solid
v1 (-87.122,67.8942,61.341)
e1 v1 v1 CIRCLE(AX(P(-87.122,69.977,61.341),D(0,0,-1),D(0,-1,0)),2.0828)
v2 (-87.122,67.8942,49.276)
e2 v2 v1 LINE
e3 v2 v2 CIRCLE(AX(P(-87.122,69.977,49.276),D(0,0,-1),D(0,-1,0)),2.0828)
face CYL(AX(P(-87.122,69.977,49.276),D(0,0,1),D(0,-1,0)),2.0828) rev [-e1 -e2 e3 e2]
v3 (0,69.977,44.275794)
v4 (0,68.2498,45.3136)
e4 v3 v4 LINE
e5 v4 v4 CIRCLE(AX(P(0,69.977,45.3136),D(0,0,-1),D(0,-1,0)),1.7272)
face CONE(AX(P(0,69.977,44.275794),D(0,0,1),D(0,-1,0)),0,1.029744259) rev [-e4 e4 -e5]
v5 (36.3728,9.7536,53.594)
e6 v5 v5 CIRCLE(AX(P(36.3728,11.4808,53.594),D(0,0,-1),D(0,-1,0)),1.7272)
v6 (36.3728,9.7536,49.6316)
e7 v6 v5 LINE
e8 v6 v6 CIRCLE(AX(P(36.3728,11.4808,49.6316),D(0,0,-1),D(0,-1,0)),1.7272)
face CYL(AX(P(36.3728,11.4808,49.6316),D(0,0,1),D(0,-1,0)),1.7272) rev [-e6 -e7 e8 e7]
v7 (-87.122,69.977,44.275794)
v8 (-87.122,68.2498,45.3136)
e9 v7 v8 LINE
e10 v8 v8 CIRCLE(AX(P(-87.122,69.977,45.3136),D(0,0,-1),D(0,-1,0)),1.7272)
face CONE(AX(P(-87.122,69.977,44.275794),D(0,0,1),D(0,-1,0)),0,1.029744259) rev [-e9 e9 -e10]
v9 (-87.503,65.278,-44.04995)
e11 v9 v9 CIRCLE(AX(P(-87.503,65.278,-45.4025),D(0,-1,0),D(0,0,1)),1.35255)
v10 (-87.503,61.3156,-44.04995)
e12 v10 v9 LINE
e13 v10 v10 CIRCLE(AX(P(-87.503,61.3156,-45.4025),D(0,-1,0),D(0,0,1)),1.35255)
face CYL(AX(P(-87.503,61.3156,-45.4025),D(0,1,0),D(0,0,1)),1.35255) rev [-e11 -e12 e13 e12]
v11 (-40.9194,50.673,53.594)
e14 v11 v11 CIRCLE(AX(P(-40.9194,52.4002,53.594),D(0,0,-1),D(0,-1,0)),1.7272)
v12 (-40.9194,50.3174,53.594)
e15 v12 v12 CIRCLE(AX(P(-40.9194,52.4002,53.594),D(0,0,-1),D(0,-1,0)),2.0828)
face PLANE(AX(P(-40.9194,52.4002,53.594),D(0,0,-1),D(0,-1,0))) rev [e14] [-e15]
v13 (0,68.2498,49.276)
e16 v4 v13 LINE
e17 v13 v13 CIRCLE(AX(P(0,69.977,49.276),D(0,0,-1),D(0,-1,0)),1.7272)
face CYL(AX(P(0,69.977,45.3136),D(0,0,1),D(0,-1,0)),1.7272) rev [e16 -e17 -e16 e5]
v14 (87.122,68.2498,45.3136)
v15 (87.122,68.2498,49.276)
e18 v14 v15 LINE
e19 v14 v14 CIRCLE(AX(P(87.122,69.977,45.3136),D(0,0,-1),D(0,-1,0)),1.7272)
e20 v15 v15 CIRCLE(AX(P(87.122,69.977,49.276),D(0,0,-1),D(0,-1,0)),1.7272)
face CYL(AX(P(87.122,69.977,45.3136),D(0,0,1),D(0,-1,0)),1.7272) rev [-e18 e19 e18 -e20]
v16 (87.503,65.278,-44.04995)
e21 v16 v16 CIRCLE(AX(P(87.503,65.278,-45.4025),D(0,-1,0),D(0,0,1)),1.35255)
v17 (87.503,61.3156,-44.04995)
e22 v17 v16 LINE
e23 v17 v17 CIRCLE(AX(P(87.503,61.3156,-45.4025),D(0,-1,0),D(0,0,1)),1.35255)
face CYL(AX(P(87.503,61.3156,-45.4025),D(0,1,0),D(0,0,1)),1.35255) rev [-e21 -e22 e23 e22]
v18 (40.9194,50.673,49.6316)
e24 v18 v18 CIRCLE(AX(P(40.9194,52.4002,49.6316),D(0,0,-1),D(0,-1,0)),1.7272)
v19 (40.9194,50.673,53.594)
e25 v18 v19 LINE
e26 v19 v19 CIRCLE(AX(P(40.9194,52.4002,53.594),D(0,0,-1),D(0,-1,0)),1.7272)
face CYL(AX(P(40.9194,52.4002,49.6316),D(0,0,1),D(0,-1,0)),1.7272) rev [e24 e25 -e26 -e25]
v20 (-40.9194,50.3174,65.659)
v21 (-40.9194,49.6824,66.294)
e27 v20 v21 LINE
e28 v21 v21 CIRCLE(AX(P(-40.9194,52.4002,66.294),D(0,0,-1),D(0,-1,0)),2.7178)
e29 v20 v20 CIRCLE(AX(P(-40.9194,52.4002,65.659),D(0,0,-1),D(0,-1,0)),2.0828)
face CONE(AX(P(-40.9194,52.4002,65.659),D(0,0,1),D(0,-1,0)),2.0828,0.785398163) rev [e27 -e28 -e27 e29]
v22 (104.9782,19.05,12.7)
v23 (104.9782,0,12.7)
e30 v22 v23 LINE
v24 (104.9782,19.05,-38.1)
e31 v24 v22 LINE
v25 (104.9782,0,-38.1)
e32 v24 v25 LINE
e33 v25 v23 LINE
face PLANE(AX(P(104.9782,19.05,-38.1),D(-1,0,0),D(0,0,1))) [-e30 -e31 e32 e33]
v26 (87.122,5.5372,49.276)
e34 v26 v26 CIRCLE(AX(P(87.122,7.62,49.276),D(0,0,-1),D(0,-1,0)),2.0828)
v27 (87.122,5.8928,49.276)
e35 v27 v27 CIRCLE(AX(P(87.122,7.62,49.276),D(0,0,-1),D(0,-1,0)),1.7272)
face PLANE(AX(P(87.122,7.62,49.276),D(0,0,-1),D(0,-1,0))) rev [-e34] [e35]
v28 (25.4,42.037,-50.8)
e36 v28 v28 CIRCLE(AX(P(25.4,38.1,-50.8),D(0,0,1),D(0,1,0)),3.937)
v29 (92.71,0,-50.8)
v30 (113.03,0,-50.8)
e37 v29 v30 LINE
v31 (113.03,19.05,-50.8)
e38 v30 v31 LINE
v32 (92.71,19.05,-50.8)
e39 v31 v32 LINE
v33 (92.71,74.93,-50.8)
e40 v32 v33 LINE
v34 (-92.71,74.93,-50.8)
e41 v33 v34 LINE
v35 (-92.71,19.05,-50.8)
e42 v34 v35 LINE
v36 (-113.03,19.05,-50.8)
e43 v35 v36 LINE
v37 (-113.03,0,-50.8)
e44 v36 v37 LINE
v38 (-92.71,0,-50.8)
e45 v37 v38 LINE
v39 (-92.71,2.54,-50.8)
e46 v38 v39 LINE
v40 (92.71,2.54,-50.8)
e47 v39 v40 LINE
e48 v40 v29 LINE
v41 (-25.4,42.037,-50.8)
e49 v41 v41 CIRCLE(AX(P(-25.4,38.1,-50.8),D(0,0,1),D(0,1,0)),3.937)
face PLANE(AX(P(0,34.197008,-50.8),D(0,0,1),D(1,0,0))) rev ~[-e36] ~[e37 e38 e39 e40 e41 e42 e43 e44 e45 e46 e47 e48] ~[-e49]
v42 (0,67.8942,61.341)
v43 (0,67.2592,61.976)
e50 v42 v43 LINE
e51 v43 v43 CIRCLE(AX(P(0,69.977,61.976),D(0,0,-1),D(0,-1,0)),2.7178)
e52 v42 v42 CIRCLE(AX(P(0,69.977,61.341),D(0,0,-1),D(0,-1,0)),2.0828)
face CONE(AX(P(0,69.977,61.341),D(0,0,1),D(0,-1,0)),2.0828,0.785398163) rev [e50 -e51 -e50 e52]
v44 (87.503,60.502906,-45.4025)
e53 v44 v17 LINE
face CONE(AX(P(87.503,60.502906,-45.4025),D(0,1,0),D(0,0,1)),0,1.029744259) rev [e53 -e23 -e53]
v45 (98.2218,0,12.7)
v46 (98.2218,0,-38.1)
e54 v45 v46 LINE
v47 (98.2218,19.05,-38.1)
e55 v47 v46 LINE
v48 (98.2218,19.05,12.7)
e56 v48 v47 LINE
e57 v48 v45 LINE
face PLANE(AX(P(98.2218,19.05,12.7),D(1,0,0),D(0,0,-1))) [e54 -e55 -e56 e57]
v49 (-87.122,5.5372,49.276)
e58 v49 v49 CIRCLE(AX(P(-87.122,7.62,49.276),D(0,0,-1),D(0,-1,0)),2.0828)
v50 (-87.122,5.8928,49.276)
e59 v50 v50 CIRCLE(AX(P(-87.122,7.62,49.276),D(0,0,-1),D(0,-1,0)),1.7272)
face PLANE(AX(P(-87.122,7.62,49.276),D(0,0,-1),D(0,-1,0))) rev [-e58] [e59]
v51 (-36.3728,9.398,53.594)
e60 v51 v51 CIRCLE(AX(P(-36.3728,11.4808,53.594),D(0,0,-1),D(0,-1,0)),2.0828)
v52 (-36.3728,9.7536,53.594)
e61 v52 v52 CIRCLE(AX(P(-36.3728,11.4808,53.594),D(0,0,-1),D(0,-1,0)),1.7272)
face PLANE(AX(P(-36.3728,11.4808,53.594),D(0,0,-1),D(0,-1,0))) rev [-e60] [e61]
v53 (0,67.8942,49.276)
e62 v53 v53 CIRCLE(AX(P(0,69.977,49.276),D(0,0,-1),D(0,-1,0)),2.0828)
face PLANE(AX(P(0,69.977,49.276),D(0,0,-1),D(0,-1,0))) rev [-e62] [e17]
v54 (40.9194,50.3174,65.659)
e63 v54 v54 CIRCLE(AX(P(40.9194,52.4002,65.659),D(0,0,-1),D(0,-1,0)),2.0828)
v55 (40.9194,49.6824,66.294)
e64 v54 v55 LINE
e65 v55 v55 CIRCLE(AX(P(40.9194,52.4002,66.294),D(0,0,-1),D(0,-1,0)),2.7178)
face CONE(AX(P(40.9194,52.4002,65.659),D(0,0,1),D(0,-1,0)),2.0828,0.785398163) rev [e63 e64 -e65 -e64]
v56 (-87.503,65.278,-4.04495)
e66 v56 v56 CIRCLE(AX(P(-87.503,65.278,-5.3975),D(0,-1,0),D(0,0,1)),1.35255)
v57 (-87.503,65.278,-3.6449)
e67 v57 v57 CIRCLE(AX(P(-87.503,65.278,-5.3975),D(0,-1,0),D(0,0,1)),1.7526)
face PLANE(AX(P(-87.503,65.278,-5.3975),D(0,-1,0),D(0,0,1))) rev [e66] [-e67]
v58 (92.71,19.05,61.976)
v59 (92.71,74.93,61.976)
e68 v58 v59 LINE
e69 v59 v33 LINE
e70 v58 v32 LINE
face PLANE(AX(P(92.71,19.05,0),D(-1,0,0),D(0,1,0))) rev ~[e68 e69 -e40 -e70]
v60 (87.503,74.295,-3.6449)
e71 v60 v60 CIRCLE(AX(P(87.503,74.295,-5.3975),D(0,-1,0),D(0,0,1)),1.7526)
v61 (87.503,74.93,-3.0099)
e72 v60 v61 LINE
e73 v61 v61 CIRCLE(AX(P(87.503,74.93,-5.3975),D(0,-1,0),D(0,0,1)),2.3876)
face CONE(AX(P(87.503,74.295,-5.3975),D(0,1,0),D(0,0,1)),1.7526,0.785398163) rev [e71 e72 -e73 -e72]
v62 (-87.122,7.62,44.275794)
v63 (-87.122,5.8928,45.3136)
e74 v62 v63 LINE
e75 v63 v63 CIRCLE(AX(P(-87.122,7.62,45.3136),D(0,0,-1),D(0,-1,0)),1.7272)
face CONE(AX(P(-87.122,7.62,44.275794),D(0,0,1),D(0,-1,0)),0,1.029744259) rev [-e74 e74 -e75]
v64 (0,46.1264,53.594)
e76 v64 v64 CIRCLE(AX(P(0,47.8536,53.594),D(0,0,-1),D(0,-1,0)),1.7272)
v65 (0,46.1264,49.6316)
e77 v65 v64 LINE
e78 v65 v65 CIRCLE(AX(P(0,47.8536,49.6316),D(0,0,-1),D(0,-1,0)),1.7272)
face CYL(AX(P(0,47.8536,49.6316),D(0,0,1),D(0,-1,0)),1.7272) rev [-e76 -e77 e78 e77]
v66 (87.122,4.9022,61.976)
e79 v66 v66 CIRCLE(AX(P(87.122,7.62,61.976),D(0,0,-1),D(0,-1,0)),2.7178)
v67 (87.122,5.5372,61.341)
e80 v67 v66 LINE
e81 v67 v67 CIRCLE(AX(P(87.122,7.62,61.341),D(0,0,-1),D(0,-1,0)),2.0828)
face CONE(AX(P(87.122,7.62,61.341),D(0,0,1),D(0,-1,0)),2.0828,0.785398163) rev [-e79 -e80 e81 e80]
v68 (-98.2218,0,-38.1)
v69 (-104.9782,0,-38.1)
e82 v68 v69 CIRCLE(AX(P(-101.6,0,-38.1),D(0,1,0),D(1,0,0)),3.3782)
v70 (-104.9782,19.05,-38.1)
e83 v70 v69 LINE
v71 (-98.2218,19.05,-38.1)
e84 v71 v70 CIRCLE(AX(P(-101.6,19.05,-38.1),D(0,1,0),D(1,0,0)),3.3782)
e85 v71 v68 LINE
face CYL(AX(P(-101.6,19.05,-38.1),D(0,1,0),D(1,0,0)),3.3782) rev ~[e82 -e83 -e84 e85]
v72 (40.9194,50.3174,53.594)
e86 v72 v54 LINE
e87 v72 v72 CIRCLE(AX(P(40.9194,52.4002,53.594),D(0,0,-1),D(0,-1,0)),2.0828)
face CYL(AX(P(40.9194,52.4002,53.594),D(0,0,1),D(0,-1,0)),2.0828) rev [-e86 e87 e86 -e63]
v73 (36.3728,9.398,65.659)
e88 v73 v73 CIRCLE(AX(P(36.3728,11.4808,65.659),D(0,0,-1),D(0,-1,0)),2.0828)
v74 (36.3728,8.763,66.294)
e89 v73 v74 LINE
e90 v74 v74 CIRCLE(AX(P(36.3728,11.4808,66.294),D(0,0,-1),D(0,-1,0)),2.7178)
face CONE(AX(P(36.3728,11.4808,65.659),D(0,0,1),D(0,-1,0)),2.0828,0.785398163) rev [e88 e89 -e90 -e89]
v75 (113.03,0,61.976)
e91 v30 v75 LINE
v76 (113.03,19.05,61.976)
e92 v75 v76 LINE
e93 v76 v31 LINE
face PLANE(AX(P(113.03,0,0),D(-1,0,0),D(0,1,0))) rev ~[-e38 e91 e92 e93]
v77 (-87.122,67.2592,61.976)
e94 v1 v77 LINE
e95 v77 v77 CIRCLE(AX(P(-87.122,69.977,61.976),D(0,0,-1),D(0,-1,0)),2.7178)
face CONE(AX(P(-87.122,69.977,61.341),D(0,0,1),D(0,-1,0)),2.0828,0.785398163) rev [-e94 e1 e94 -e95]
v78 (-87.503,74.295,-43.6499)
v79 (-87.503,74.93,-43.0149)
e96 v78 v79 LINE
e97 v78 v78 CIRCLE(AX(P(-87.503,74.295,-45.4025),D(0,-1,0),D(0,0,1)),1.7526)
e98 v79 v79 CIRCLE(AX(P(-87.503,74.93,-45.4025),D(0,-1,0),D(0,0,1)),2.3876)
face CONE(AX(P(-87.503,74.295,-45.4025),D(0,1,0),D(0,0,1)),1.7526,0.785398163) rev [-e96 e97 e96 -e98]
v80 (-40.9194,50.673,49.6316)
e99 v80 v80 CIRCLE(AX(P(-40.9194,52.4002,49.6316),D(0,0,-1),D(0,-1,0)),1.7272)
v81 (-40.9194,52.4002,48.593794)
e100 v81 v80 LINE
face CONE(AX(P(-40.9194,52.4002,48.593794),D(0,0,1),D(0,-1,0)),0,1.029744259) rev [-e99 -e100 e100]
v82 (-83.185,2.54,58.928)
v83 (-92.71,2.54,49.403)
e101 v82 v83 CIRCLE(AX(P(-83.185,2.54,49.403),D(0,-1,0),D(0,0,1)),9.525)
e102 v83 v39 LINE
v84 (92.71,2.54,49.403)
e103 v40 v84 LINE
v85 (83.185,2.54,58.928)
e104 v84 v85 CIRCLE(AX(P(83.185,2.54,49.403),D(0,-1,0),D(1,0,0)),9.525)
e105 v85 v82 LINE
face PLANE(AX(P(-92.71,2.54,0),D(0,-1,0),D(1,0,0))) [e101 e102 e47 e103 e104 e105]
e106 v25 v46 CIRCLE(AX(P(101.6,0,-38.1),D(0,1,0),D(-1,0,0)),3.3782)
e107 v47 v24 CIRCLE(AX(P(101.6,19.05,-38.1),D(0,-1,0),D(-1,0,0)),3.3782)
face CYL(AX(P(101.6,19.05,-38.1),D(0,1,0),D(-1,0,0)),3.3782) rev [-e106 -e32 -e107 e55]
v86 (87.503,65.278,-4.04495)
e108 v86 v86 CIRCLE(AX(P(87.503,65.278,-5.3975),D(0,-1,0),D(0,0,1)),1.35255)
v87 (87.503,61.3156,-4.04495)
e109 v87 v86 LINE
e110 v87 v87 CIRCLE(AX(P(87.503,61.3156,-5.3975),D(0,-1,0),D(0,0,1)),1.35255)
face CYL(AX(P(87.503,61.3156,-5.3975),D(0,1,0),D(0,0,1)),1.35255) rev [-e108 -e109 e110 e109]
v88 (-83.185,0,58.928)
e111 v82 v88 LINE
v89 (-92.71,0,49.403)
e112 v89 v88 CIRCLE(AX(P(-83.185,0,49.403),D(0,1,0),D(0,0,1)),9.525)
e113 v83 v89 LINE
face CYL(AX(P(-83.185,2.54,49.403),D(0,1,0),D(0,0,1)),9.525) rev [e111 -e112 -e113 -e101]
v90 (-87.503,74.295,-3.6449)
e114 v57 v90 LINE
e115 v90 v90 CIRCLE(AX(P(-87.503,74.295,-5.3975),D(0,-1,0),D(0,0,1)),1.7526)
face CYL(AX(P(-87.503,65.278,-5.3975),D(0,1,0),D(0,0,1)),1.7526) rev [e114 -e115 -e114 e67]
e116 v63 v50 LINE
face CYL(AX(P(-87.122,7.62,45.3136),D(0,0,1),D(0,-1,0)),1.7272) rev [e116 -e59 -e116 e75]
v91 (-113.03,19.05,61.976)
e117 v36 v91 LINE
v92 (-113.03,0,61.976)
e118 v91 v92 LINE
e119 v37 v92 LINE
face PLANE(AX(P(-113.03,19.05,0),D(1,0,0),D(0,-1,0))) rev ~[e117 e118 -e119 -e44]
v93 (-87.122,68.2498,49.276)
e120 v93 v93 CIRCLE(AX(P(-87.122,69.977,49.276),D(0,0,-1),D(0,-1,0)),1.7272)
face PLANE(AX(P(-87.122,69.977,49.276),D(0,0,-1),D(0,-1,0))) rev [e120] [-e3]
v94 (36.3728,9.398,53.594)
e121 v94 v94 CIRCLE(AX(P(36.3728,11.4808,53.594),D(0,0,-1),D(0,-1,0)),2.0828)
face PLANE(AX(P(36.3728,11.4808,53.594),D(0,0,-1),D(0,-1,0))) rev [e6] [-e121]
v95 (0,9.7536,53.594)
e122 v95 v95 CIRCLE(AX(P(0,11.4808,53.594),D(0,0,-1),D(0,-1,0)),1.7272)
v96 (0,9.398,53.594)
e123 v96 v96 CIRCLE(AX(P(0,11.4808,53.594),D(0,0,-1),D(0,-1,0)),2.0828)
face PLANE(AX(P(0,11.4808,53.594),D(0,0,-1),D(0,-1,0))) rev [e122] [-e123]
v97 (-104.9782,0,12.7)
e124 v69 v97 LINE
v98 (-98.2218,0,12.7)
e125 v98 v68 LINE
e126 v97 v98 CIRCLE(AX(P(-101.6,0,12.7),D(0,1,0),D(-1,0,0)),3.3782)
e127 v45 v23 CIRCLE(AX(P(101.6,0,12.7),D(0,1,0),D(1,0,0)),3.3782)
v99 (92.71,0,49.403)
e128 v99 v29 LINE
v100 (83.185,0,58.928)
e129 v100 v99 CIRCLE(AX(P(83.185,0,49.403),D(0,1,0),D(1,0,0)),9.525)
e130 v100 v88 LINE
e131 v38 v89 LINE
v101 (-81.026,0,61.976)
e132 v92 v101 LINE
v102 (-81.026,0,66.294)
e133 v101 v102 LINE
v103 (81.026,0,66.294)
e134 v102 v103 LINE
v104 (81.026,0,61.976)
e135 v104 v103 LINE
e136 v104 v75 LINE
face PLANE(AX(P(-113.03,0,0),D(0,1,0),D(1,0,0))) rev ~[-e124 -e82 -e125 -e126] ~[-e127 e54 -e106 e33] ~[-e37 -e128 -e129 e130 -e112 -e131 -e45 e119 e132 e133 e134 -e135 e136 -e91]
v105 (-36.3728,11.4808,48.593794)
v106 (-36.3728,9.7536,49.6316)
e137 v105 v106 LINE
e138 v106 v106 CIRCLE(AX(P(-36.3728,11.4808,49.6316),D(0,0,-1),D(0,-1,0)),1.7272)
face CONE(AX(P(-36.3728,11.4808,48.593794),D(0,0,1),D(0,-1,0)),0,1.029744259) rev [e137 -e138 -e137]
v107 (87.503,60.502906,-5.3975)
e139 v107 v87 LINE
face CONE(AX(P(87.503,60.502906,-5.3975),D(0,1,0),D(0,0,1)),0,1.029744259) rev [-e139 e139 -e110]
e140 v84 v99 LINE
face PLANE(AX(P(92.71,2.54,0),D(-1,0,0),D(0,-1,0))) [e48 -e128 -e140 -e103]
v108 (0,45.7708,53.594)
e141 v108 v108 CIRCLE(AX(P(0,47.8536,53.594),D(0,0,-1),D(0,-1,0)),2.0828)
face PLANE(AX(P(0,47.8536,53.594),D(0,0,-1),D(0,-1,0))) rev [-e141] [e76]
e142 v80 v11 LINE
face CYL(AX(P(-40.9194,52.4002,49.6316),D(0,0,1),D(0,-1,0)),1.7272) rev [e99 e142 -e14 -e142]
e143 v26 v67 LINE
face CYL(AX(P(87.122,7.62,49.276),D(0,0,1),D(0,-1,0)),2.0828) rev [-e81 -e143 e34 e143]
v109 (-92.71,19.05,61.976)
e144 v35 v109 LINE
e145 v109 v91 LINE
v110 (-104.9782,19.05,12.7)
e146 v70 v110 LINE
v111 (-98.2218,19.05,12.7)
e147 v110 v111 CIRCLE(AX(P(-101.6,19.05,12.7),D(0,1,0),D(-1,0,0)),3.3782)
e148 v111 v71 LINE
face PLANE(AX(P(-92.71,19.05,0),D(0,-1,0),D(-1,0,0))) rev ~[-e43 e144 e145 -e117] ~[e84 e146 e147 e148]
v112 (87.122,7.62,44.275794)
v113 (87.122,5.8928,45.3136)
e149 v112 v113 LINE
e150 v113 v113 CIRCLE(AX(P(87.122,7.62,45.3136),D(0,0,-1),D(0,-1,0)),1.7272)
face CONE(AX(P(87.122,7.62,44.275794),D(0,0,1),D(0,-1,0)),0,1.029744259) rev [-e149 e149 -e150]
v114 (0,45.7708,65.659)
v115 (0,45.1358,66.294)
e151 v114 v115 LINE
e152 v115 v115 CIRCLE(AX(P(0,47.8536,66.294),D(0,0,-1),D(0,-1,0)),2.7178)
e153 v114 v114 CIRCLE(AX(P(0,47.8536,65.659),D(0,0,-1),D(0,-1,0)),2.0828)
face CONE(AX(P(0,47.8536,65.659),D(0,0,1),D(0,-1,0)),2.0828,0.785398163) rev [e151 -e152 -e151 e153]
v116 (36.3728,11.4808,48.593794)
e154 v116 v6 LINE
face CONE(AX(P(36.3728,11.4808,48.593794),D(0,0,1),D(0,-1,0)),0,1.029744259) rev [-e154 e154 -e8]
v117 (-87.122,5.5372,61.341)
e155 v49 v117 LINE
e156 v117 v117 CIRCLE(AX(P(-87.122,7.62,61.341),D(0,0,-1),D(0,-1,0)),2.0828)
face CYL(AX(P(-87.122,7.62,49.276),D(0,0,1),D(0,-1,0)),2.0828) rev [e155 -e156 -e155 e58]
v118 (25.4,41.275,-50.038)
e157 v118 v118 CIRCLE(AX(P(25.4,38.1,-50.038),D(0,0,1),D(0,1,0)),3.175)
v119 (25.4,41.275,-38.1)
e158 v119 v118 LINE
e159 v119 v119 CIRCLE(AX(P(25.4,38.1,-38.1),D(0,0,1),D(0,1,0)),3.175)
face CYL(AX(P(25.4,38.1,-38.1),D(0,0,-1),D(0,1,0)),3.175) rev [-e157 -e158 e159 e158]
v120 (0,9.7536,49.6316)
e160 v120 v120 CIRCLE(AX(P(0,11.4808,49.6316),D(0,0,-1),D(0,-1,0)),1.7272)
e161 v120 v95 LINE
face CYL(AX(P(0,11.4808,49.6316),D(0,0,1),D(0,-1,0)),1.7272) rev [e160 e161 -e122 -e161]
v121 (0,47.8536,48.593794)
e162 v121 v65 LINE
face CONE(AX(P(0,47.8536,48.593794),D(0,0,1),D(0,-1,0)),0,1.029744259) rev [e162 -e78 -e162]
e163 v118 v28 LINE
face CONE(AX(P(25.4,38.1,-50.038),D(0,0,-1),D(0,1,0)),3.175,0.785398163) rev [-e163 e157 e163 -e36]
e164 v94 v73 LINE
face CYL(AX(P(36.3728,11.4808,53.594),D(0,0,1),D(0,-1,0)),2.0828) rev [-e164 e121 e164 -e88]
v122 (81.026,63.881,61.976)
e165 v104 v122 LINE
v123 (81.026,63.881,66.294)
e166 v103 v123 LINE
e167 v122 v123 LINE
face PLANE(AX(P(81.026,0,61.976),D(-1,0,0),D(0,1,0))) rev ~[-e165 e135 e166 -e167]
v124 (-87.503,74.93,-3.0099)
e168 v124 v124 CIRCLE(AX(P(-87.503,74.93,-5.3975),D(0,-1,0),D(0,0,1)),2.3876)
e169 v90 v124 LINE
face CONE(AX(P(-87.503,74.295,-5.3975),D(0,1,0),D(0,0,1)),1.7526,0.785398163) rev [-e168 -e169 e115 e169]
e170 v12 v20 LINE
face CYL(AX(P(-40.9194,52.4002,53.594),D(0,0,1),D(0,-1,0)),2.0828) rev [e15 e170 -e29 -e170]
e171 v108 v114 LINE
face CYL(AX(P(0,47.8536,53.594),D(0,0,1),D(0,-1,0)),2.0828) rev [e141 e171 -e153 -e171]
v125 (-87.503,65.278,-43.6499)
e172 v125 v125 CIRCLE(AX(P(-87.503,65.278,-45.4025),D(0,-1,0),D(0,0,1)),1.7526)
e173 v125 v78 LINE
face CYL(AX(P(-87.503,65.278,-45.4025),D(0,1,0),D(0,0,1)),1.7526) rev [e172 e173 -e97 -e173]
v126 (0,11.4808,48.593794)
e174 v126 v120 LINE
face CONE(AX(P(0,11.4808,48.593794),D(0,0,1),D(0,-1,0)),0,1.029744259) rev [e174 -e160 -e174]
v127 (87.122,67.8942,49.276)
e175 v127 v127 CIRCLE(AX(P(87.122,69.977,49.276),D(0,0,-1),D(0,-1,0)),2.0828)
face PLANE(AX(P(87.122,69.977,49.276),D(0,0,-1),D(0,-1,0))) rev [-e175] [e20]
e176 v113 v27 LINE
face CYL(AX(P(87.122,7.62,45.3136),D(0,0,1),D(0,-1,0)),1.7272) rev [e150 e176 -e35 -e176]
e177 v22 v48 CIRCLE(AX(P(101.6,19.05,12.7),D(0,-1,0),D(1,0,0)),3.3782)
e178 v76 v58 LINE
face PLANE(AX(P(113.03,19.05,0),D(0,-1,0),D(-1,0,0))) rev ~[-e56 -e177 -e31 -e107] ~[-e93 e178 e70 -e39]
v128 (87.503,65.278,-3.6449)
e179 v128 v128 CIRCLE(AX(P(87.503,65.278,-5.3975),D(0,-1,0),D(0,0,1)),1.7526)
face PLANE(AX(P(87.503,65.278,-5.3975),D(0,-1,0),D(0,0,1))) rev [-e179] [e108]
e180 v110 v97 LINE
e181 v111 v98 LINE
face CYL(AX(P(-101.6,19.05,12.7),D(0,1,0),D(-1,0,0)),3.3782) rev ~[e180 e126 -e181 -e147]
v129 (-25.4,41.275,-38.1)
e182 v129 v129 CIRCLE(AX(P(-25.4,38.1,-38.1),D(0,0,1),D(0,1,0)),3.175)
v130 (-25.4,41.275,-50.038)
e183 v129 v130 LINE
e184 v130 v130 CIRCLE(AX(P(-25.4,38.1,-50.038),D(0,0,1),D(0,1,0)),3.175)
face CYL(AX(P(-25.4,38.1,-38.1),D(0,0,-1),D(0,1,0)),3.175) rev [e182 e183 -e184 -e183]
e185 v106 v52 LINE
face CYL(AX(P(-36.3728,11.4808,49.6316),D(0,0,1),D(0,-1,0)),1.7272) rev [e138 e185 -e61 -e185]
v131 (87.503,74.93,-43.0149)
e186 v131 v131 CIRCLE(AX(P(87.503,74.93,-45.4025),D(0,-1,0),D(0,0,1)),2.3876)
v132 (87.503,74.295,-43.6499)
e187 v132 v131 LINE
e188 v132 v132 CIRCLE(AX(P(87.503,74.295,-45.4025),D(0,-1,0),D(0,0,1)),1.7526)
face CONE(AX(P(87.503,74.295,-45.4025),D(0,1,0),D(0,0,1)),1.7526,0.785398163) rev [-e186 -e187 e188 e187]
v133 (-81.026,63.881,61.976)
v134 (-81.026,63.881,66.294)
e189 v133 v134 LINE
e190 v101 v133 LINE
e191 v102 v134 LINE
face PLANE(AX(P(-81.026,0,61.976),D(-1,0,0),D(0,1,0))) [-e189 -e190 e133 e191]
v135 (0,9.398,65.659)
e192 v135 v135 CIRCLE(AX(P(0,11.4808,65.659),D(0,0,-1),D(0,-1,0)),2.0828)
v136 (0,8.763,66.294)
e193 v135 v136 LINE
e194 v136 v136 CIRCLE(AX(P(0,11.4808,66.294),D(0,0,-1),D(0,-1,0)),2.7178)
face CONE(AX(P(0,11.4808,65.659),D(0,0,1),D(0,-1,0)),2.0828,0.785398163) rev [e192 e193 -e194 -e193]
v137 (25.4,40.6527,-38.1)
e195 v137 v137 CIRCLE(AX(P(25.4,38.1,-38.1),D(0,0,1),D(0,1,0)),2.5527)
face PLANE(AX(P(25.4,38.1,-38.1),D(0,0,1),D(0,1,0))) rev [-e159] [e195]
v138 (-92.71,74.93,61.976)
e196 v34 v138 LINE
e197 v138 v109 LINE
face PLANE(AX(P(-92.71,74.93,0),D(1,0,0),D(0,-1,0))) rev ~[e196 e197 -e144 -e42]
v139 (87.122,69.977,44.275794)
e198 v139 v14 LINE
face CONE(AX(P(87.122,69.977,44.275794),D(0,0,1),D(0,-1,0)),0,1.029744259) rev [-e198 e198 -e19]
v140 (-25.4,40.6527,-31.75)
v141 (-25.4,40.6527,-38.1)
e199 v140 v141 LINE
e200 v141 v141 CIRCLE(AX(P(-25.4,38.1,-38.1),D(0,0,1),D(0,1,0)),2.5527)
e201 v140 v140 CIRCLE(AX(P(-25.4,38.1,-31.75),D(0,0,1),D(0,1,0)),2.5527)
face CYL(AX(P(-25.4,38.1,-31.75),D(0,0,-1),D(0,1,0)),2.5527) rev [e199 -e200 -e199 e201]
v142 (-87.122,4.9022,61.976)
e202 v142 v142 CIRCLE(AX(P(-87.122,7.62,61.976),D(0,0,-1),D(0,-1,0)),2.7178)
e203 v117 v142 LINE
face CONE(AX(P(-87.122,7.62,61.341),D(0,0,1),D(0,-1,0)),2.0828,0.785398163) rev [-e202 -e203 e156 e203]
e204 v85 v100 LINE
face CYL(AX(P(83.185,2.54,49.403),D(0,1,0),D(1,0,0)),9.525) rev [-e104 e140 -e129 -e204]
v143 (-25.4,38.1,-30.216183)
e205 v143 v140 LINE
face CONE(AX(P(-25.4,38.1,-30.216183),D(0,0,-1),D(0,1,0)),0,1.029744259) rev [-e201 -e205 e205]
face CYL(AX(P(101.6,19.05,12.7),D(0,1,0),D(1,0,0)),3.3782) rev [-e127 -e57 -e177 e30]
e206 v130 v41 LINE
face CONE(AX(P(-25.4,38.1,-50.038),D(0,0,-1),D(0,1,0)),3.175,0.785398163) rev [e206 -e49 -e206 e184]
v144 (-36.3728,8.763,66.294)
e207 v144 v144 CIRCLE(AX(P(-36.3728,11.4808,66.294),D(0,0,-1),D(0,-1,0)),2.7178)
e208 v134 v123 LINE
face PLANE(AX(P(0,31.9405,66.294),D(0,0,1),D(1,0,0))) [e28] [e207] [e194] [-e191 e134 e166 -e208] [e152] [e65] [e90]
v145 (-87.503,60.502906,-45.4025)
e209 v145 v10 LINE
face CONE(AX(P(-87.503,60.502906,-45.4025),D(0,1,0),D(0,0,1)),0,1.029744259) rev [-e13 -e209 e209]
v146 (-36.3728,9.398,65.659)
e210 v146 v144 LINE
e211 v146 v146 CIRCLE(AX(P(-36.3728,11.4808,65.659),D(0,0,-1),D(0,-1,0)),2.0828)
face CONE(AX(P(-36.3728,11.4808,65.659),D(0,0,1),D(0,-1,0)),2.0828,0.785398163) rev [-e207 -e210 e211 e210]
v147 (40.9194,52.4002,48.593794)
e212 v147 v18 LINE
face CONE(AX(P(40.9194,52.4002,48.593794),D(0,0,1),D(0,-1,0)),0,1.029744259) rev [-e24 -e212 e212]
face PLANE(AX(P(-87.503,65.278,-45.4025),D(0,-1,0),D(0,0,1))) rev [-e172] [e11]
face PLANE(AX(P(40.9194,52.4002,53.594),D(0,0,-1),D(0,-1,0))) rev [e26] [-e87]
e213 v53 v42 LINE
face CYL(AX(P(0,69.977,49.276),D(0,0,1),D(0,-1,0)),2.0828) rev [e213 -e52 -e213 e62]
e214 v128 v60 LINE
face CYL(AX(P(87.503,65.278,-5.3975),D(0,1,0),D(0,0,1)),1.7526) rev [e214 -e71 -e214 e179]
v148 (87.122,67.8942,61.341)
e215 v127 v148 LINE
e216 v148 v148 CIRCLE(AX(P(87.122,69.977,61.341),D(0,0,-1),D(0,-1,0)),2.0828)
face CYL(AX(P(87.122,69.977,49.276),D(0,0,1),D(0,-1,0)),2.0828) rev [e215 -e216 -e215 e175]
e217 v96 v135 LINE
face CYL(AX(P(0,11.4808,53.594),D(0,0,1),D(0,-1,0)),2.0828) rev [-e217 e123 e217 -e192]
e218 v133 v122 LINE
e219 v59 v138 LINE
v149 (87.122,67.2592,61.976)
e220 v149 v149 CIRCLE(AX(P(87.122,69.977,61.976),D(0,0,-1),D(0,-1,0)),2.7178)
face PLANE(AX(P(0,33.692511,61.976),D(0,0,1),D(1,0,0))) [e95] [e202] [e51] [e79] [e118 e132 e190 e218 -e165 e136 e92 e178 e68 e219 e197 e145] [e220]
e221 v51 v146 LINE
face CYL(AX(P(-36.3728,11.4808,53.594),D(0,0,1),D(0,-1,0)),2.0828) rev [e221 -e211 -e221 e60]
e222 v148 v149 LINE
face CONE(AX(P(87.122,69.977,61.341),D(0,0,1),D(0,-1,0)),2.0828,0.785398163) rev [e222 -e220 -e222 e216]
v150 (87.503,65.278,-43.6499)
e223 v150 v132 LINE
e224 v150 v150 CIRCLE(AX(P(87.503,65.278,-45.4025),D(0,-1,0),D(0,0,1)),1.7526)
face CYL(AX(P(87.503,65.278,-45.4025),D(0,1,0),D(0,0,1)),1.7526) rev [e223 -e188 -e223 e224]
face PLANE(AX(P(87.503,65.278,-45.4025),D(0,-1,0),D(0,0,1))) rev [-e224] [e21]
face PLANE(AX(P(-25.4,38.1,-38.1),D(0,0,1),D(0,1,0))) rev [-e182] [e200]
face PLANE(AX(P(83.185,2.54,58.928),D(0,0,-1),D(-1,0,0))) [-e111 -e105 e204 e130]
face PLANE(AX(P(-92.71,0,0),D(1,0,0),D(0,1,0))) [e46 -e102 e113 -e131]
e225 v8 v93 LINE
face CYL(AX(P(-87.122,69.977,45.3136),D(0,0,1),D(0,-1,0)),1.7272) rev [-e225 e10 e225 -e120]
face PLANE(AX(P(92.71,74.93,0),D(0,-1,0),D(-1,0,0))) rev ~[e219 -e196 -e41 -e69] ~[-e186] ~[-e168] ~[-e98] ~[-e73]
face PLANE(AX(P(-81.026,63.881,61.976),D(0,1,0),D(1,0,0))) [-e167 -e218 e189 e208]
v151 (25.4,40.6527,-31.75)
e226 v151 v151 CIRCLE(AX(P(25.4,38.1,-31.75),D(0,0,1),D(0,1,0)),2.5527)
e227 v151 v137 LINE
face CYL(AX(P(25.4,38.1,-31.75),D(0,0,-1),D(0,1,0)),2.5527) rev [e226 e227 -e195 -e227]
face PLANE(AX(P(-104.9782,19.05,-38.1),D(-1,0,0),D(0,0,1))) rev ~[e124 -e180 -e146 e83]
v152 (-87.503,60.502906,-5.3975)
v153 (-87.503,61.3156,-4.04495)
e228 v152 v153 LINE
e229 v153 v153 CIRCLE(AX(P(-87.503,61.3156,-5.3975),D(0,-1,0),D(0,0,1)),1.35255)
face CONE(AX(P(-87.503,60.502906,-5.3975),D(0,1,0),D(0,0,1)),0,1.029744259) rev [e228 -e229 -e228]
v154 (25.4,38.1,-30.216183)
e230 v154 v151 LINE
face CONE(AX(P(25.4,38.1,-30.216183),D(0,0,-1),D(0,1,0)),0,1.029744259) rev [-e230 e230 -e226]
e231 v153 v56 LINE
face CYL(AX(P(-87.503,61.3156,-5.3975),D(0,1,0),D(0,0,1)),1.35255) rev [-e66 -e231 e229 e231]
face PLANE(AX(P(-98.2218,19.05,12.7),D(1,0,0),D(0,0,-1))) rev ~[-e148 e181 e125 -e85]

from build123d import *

# Parameters (mm, degrees)
BOSS_EXTRUDE1_DEPTH              = 50.8
F_6_32_TAPPED_HOLE1_AT_2_COUNT   = 2
F_6_32_TAPPED_HOLE1_AT_2_PITCH   = 40.005
F_6_32_TAPPED_HOLE1_AT_3_COUNT   = 2
F_6_32_TAPPED_HOLE1_AT_3_PITCH   = 179.52019402
F_6_32_TAPPED_HOLE1_AT_4_COUNT   = 2
F_6_32_TAPPED_HOLE1_AT_4_PITCH   = 175.006
BOSS_EXTRUDE2_DEPTH              = 61.976
CUT_EXTRUDE2_DEPTH               = 20.05
F_8_32_TAPPED_HOLE1_AT_2_COUNT   = 2
F_8_32_TAPPED_HOLE1_AT_2_PITCH   = 62.357
F_8_32_TAPPED_HOLE1_AT_3_COUNT   = 2
F_8_32_TAPPED_HOLE1_AT_3_PITCH   = 185.065844998
F_8_32_TAPPED_HOLE1_AT_4_COUNT   = 2
F_8_32_TAPPED_HOLE1_AT_4_PITCH   = 174.244
F_8_32_TAPPED_HOLE1_AT_5_COUNT   = 2
F_8_32_TAPPED_HOLE1_AT_5_PITCH   = 87.122
SKETCH13_W                       = 162.052
SKETCH13_H                       = 63.881
BOSS_EXTRUDE4_DEPTH              = 4.318
F_8_32_TAPPED_HOLE2_AT_2_COUNT   = 2
F_8_32_TAPPED_HOLE2_AT_2_PITCH   = 41.171214069
F_8_32_TAPPED_HOLE2_AT_3_COUNT   = 2
F_8_32_TAPPED_HOLE2_AT_3_PITCH   = 87.455597175
F_8_32_TAPPED_HOLE2_AT_4_COUNT   = 2
F_8_32_TAPPED_HOLE2_AT_4_PITCH   = 81.8388
F_8_32_TAPPED_HOLE2_AT_5_COUNT   = 2
F_8_32_TAPPED_HOLE2_AT_5_PITCH   = 57.868770444
F_8_32_TAPPED_HOLE2_AT_6_COUNT   = 2
F_8_32_TAPPED_HOLE2_AT_6_PITCH   = 41.171214069
CUT_EXTRUDE3_DEPTH               = 3.54
F_1_4_20_TAPPED_HOLE1_AT_2_COUNT = 2
F_1_4_20_TAPPED_HOLE1_AT_2_PITCH = 50.8


with BuildPart() as part:
    # Sketch1 → Boss-Extrude1 (new body)
    with BuildSketch(Plane.XY):
        Polygon((-92.71, 2.54), (92.71, 2.54), (92.71, 0), (113.03, 0), (113.03, 19.05), (92.71, 19.05), (92.71, 74.93), (-92.71, 74.93), (-92.71, 19.05), (-113.03, 19.05), (-113.03, 0), (-92.71, 0), align=None)
    extrude(amount=-BOSS_EXTRUDE1_DEPTH)

    # Sketch3 → #6-32 Tapped Hole1 (revolve, cut)
    with BuildSketch(Plane(origin=(-87.503, 74.93, -45.4025), x_dir=(0, 0, 1), z_dir=(1, 0, 0))):
        Polygon((0, 0), (0, 14.42709403), (1.35255, 13.6144), (1.35255, 9.652), (1.7526, 9.652), (1.7526, 0.635), (2.3876, 0), align=None)
    f_6_32_tapped_hole1 = revolve(axis=Axis((-87.503, 81.28, -45.4025), (0, -1, 0)), mode=Mode.SUBTRACT)

    # #6-32 Tapped Hole1 at 2: #6-32 Tapped Hole1 ×2
    with Locations(*[(0, 0, i * F_6_32_TAPPED_HOLE1_AT_2_PITCH) for i in range(1, F_6_32_TAPPED_HOLE1_AT_2_COUNT)]):
        add(f_6_32_tapped_hole1, mode=Mode.SUBTRACT)

    # #6-32 Tapped Hole1 at 3: #6-32 Tapped Hole1 ×2
    with Locations(*[Vector(0.974854116, 0, 0.22284401) * (i * F_6_32_TAPPED_HOLE1_AT_3_PITCH) for i in range(1, F_6_32_TAPPED_HOLE1_AT_3_COUNT)]):
        add(f_6_32_tapped_hole1, mode=Mode.SUBTRACT)

    # #6-32 Tapped Hole1 at 4: #6-32 Tapped Hole1 ×2
    with Locations(*[(i * F_6_32_TAPPED_HOLE1_AT_4_PITCH, 0, 0) for i in range(1, F_6_32_TAPPED_HOLE1_AT_4_COUNT)]):
        add(f_6_32_tapped_hole1, mode=Mode.SUBTRACT)

    # Sketch5 → Boss-Extrude2 (add)
    with BuildSketch(Plane.XY):
        Polygon((92.71, 74.93), (-92.71, 74.93), (-92.71, 19.05), (-113.03, 19.05), (-113.03, 0), (113.03, 0), (113.03, 19.05), (92.71, 19.05), align=None)
    extrude(amount=BOSS_EXTRUDE2_DEPTH)

    # Sketch16 → Cut-Extrude2 (cut, through all)
    with BuildSketch(Plane(origin=(0, 19.05, 0), x_dir=(1, 0, 0), z_dir=(0, 1, 0))):
        with BuildLine():
            Line((-104.9782, 38.1), (-104.9782, -12.7))
            ThreePointArc((-104.9782, -12.7), (-101.6, -16.0782), (-98.2218, -12.7))
            Line((-98.2218, -12.7), (-98.2218, 38.1))
            ThreePointArc((-98.2218, 38.1), (-101.6, 41.4782), (-104.9782, 38.1))
        make_face()
        with BuildLine():
            Line((104.9782, 38.1), (104.9782, -12.7))
            ThreePointArc((104.9782, -12.7), (101.6, -16.0782), (98.2218, -12.7))
            Line((98.2218, -12.7), (98.2218, 38.1))
            ThreePointArc((98.2218, 38.1), (101.6, 41.4782), (104.9782, 38.1))
        make_face()
    extrude(amount=-CUT_EXTRUDE2_DEPTH, mode=Mode.SUBTRACT)

    # Sketch11 → #8-32 Tapped Hole1 (revolve, cut)
    with BuildSketch(Plane(origin=(-87.122, 69.977, 61.976), x_dir=(0, -1, 0), z_dir=(1, 0, 0))):
        Polygon((0, 0), (0, 17.700206461), (1.7272, 16.6624), (1.7272, 12.7), (2.0828, 12.7), (2.0828, 0.635), (2.7178, 0), align=None)
    f_8_32_tapped_hole1 = revolve(axis=Axis((-87.122, 69.977, 68.326), (0, 0, -1)), mode=Mode.SUBTRACT)

    # #8-32 Tapped Hole1 at 2: #8-32 Tapped Hole1 ×2
    with Locations(*[(0, -i * F_8_32_TAPPED_HOLE1_AT_2_PITCH, 0) for i in range(1, F_8_32_TAPPED_HOLE1_AT_2_COUNT)]):
        add(f_8_32_tapped_hole1, mode=Mode.SUBTRACT)

    # #8-32 Tapped Hole1 at 3: #8-32 Tapped Hole1 ×2
    with Locations(*[Vector(0.941524353, -0.33694494, 0) * (i * F_8_32_TAPPED_HOLE1_AT_3_PITCH) for i in range(1, F_8_32_TAPPED_HOLE1_AT_3_COUNT)]):
        add(f_8_32_tapped_hole1, mode=Mode.SUBTRACT)

    # #8-32 Tapped Hole1 at 4: #8-32 Tapped Hole1 ×2
    with Locations(*[(i * F_8_32_TAPPED_HOLE1_AT_4_PITCH, 0, 0) for i in range(1, F_8_32_TAPPED_HOLE1_AT_4_COUNT)]):
        add(f_8_32_tapped_hole1, mode=Mode.SUBTRACT)

    # #8-32 Tapped Hole1 at 5: #8-32 Tapped Hole1 ×2
    with Locations(*[(i * F_8_32_TAPPED_HOLE1_AT_5_PITCH, 0, 0) for i in range(1, F_8_32_TAPPED_HOLE1_AT_5_COUNT)]):
        add(f_8_32_tapped_hole1, mode=Mode.SUBTRACT)

    # Sketch13 → Boss-Extrude4 (add)
    with BuildSketch(Plane.XY.offset(61.976)):
        with Locations((0, 31.9405)):
            Rectangle(SKETCH13_W, SKETCH13_H)
    extrude(amount=BOSS_EXTRUDE4_DEPTH)

    # Sketch7 → #8-32 Tapped Hole2 (revolve, cut)
    with BuildSketch(Plane(origin=(-40.9194, 52.4002, 66.294), x_dir=(0, -1, 0), z_dir=(1, 0, 0))):
        Polygon((0, 0), (0, 17.700206461), (1.7272, 16.6624), (1.7272, 12.7), (2.0828, 12.7), (2.0828, 0.635), (2.7178, 0), align=None)
    f_8_32_tapped_hole2 = revolve(axis=Axis((-40.9194, 52.4002, 72.644), (0, 0, -1)), mode=Mode.SUBTRACT)

    # #8-32 Tapped Hole2 at 2: #8-32 Tapped Hole2 ×2
    with Locations(*[Vector(0.110431526, -0.993883735, 0) * (i * F_8_32_TAPPED_HOLE2_AT_2_PITCH) for i in range(1, F_8_32_TAPPED_HOLE2_AT_2_COUNT)]):
        add(f_8_32_tapped_hole2, mode=Mode.SUBTRACT)

    # #8-32 Tapped Hole2 at 3: #8-32 Tapped Hole2 ×2
    with Locations(*[Vector(0.883787916, -0.46788772, 0) * (i * F_8_32_TAPPED_HOLE2_AT_3_PITCH) for i in range(1, F_8_32_TAPPED_HOLE2_AT_3_COUNT)]):
        add(f_8_32_tapped_hole2, mode=Mode.SUBTRACT)

    # #8-32 Tapped Hole2 at 4: #8-32 Tapped Hole2 ×2
    with Locations(*[(i * F_8_32_TAPPED_HOLE2_AT_4_PITCH, 0, 0) for i in range(1, F_8_32_TAPPED_HOLE2_AT_4_COUNT)]):
        add(f_8_32_tapped_hole2, mode=Mode.SUBTRACT)

    # #8-32 Tapped Hole2 at 5: #8-32 Tapped Hole2 ×2
    with Locations(*[Vector(0.707106781, -0.707106781, 0) * (i * F_8_32_TAPPED_HOLE2_AT_5_PITCH) for i in range(1, F_8_32_TAPPED_HOLE2_AT_5_COUNT)]):
        add(f_8_32_tapped_hole2, mode=Mode.SUBTRACT)

    # #8-32 Tapped Hole2 at 6: #8-32 Tapped Hole2 ×2
    with Locations(*[Vector(0.993883735, -0.110431526, 0) * (i * F_8_32_TAPPED_HOLE2_AT_6_PITCH) for i in range(1, F_8_32_TAPPED_HOLE2_AT_6_COUNT)]):
        add(f_8_32_tapped_hole2, mode=Mode.SUBTRACT)

    # Sketch17 → Cut-Extrude3 (cut, through all)
    with BuildSketch(Plane.XZ.offset(-2.54)):
        with BuildLine():
            Line((-92.71, 0), (92.71, 0))
            Line((92.71, 0), (92.71, 49.403))
            ThreePointArc((92.71, 49.403), (89.920192091, 56.138192091), (83.185, 58.928))
            Line((83.185, 58.928), (-83.185, 58.928))
            ThreePointArc((-83.185, 58.928), (-89.920192091, 56.138192091), (-92.71, 49.403))
            Line((-92.71, 49.403), (-92.71, 0))
        make_face()
    extrude(amount=CUT_EXTRUDE3_DEPTH, mode=Mode.SUBTRACT)

    # Sketch18 → 1/4-20 Tapped Hole1 (revolve, cut)
    with BuildSketch(Plane(origin=(25.4, 38.1, -50.8), x_dir=(0, 1, 0), z_dir=(1, 0, 0))):
        Polygon((0, 0), (0, 20.583816902), (2.5527, 19.05), (2.5527, 12.7), (3.175, 12.7), (3.175, 0.762), (3.937, 0), align=None)
    f_1_4_20_tapped_hole1 = revolve(axis=Axis((25.4, 38.1, -57.15), (0, 0, 1)), mode=Mode.SUBTRACT)

    # 1/4-20 Tapped Hole1 at 2: 1/4-20 Tapped Hole1 ×2
    with Locations(*[(-i * F_1_4_20_TAPPED_HOLE1_AT_2_PITCH, 0, 0) for i in range(1, F_1_4_20_TAPPED_HOLE1_AT_2_COUNT)]):
        add(f_1_4_20_tapped_hole1, mode=Mode.SUBTRACT)


solid = part.part
